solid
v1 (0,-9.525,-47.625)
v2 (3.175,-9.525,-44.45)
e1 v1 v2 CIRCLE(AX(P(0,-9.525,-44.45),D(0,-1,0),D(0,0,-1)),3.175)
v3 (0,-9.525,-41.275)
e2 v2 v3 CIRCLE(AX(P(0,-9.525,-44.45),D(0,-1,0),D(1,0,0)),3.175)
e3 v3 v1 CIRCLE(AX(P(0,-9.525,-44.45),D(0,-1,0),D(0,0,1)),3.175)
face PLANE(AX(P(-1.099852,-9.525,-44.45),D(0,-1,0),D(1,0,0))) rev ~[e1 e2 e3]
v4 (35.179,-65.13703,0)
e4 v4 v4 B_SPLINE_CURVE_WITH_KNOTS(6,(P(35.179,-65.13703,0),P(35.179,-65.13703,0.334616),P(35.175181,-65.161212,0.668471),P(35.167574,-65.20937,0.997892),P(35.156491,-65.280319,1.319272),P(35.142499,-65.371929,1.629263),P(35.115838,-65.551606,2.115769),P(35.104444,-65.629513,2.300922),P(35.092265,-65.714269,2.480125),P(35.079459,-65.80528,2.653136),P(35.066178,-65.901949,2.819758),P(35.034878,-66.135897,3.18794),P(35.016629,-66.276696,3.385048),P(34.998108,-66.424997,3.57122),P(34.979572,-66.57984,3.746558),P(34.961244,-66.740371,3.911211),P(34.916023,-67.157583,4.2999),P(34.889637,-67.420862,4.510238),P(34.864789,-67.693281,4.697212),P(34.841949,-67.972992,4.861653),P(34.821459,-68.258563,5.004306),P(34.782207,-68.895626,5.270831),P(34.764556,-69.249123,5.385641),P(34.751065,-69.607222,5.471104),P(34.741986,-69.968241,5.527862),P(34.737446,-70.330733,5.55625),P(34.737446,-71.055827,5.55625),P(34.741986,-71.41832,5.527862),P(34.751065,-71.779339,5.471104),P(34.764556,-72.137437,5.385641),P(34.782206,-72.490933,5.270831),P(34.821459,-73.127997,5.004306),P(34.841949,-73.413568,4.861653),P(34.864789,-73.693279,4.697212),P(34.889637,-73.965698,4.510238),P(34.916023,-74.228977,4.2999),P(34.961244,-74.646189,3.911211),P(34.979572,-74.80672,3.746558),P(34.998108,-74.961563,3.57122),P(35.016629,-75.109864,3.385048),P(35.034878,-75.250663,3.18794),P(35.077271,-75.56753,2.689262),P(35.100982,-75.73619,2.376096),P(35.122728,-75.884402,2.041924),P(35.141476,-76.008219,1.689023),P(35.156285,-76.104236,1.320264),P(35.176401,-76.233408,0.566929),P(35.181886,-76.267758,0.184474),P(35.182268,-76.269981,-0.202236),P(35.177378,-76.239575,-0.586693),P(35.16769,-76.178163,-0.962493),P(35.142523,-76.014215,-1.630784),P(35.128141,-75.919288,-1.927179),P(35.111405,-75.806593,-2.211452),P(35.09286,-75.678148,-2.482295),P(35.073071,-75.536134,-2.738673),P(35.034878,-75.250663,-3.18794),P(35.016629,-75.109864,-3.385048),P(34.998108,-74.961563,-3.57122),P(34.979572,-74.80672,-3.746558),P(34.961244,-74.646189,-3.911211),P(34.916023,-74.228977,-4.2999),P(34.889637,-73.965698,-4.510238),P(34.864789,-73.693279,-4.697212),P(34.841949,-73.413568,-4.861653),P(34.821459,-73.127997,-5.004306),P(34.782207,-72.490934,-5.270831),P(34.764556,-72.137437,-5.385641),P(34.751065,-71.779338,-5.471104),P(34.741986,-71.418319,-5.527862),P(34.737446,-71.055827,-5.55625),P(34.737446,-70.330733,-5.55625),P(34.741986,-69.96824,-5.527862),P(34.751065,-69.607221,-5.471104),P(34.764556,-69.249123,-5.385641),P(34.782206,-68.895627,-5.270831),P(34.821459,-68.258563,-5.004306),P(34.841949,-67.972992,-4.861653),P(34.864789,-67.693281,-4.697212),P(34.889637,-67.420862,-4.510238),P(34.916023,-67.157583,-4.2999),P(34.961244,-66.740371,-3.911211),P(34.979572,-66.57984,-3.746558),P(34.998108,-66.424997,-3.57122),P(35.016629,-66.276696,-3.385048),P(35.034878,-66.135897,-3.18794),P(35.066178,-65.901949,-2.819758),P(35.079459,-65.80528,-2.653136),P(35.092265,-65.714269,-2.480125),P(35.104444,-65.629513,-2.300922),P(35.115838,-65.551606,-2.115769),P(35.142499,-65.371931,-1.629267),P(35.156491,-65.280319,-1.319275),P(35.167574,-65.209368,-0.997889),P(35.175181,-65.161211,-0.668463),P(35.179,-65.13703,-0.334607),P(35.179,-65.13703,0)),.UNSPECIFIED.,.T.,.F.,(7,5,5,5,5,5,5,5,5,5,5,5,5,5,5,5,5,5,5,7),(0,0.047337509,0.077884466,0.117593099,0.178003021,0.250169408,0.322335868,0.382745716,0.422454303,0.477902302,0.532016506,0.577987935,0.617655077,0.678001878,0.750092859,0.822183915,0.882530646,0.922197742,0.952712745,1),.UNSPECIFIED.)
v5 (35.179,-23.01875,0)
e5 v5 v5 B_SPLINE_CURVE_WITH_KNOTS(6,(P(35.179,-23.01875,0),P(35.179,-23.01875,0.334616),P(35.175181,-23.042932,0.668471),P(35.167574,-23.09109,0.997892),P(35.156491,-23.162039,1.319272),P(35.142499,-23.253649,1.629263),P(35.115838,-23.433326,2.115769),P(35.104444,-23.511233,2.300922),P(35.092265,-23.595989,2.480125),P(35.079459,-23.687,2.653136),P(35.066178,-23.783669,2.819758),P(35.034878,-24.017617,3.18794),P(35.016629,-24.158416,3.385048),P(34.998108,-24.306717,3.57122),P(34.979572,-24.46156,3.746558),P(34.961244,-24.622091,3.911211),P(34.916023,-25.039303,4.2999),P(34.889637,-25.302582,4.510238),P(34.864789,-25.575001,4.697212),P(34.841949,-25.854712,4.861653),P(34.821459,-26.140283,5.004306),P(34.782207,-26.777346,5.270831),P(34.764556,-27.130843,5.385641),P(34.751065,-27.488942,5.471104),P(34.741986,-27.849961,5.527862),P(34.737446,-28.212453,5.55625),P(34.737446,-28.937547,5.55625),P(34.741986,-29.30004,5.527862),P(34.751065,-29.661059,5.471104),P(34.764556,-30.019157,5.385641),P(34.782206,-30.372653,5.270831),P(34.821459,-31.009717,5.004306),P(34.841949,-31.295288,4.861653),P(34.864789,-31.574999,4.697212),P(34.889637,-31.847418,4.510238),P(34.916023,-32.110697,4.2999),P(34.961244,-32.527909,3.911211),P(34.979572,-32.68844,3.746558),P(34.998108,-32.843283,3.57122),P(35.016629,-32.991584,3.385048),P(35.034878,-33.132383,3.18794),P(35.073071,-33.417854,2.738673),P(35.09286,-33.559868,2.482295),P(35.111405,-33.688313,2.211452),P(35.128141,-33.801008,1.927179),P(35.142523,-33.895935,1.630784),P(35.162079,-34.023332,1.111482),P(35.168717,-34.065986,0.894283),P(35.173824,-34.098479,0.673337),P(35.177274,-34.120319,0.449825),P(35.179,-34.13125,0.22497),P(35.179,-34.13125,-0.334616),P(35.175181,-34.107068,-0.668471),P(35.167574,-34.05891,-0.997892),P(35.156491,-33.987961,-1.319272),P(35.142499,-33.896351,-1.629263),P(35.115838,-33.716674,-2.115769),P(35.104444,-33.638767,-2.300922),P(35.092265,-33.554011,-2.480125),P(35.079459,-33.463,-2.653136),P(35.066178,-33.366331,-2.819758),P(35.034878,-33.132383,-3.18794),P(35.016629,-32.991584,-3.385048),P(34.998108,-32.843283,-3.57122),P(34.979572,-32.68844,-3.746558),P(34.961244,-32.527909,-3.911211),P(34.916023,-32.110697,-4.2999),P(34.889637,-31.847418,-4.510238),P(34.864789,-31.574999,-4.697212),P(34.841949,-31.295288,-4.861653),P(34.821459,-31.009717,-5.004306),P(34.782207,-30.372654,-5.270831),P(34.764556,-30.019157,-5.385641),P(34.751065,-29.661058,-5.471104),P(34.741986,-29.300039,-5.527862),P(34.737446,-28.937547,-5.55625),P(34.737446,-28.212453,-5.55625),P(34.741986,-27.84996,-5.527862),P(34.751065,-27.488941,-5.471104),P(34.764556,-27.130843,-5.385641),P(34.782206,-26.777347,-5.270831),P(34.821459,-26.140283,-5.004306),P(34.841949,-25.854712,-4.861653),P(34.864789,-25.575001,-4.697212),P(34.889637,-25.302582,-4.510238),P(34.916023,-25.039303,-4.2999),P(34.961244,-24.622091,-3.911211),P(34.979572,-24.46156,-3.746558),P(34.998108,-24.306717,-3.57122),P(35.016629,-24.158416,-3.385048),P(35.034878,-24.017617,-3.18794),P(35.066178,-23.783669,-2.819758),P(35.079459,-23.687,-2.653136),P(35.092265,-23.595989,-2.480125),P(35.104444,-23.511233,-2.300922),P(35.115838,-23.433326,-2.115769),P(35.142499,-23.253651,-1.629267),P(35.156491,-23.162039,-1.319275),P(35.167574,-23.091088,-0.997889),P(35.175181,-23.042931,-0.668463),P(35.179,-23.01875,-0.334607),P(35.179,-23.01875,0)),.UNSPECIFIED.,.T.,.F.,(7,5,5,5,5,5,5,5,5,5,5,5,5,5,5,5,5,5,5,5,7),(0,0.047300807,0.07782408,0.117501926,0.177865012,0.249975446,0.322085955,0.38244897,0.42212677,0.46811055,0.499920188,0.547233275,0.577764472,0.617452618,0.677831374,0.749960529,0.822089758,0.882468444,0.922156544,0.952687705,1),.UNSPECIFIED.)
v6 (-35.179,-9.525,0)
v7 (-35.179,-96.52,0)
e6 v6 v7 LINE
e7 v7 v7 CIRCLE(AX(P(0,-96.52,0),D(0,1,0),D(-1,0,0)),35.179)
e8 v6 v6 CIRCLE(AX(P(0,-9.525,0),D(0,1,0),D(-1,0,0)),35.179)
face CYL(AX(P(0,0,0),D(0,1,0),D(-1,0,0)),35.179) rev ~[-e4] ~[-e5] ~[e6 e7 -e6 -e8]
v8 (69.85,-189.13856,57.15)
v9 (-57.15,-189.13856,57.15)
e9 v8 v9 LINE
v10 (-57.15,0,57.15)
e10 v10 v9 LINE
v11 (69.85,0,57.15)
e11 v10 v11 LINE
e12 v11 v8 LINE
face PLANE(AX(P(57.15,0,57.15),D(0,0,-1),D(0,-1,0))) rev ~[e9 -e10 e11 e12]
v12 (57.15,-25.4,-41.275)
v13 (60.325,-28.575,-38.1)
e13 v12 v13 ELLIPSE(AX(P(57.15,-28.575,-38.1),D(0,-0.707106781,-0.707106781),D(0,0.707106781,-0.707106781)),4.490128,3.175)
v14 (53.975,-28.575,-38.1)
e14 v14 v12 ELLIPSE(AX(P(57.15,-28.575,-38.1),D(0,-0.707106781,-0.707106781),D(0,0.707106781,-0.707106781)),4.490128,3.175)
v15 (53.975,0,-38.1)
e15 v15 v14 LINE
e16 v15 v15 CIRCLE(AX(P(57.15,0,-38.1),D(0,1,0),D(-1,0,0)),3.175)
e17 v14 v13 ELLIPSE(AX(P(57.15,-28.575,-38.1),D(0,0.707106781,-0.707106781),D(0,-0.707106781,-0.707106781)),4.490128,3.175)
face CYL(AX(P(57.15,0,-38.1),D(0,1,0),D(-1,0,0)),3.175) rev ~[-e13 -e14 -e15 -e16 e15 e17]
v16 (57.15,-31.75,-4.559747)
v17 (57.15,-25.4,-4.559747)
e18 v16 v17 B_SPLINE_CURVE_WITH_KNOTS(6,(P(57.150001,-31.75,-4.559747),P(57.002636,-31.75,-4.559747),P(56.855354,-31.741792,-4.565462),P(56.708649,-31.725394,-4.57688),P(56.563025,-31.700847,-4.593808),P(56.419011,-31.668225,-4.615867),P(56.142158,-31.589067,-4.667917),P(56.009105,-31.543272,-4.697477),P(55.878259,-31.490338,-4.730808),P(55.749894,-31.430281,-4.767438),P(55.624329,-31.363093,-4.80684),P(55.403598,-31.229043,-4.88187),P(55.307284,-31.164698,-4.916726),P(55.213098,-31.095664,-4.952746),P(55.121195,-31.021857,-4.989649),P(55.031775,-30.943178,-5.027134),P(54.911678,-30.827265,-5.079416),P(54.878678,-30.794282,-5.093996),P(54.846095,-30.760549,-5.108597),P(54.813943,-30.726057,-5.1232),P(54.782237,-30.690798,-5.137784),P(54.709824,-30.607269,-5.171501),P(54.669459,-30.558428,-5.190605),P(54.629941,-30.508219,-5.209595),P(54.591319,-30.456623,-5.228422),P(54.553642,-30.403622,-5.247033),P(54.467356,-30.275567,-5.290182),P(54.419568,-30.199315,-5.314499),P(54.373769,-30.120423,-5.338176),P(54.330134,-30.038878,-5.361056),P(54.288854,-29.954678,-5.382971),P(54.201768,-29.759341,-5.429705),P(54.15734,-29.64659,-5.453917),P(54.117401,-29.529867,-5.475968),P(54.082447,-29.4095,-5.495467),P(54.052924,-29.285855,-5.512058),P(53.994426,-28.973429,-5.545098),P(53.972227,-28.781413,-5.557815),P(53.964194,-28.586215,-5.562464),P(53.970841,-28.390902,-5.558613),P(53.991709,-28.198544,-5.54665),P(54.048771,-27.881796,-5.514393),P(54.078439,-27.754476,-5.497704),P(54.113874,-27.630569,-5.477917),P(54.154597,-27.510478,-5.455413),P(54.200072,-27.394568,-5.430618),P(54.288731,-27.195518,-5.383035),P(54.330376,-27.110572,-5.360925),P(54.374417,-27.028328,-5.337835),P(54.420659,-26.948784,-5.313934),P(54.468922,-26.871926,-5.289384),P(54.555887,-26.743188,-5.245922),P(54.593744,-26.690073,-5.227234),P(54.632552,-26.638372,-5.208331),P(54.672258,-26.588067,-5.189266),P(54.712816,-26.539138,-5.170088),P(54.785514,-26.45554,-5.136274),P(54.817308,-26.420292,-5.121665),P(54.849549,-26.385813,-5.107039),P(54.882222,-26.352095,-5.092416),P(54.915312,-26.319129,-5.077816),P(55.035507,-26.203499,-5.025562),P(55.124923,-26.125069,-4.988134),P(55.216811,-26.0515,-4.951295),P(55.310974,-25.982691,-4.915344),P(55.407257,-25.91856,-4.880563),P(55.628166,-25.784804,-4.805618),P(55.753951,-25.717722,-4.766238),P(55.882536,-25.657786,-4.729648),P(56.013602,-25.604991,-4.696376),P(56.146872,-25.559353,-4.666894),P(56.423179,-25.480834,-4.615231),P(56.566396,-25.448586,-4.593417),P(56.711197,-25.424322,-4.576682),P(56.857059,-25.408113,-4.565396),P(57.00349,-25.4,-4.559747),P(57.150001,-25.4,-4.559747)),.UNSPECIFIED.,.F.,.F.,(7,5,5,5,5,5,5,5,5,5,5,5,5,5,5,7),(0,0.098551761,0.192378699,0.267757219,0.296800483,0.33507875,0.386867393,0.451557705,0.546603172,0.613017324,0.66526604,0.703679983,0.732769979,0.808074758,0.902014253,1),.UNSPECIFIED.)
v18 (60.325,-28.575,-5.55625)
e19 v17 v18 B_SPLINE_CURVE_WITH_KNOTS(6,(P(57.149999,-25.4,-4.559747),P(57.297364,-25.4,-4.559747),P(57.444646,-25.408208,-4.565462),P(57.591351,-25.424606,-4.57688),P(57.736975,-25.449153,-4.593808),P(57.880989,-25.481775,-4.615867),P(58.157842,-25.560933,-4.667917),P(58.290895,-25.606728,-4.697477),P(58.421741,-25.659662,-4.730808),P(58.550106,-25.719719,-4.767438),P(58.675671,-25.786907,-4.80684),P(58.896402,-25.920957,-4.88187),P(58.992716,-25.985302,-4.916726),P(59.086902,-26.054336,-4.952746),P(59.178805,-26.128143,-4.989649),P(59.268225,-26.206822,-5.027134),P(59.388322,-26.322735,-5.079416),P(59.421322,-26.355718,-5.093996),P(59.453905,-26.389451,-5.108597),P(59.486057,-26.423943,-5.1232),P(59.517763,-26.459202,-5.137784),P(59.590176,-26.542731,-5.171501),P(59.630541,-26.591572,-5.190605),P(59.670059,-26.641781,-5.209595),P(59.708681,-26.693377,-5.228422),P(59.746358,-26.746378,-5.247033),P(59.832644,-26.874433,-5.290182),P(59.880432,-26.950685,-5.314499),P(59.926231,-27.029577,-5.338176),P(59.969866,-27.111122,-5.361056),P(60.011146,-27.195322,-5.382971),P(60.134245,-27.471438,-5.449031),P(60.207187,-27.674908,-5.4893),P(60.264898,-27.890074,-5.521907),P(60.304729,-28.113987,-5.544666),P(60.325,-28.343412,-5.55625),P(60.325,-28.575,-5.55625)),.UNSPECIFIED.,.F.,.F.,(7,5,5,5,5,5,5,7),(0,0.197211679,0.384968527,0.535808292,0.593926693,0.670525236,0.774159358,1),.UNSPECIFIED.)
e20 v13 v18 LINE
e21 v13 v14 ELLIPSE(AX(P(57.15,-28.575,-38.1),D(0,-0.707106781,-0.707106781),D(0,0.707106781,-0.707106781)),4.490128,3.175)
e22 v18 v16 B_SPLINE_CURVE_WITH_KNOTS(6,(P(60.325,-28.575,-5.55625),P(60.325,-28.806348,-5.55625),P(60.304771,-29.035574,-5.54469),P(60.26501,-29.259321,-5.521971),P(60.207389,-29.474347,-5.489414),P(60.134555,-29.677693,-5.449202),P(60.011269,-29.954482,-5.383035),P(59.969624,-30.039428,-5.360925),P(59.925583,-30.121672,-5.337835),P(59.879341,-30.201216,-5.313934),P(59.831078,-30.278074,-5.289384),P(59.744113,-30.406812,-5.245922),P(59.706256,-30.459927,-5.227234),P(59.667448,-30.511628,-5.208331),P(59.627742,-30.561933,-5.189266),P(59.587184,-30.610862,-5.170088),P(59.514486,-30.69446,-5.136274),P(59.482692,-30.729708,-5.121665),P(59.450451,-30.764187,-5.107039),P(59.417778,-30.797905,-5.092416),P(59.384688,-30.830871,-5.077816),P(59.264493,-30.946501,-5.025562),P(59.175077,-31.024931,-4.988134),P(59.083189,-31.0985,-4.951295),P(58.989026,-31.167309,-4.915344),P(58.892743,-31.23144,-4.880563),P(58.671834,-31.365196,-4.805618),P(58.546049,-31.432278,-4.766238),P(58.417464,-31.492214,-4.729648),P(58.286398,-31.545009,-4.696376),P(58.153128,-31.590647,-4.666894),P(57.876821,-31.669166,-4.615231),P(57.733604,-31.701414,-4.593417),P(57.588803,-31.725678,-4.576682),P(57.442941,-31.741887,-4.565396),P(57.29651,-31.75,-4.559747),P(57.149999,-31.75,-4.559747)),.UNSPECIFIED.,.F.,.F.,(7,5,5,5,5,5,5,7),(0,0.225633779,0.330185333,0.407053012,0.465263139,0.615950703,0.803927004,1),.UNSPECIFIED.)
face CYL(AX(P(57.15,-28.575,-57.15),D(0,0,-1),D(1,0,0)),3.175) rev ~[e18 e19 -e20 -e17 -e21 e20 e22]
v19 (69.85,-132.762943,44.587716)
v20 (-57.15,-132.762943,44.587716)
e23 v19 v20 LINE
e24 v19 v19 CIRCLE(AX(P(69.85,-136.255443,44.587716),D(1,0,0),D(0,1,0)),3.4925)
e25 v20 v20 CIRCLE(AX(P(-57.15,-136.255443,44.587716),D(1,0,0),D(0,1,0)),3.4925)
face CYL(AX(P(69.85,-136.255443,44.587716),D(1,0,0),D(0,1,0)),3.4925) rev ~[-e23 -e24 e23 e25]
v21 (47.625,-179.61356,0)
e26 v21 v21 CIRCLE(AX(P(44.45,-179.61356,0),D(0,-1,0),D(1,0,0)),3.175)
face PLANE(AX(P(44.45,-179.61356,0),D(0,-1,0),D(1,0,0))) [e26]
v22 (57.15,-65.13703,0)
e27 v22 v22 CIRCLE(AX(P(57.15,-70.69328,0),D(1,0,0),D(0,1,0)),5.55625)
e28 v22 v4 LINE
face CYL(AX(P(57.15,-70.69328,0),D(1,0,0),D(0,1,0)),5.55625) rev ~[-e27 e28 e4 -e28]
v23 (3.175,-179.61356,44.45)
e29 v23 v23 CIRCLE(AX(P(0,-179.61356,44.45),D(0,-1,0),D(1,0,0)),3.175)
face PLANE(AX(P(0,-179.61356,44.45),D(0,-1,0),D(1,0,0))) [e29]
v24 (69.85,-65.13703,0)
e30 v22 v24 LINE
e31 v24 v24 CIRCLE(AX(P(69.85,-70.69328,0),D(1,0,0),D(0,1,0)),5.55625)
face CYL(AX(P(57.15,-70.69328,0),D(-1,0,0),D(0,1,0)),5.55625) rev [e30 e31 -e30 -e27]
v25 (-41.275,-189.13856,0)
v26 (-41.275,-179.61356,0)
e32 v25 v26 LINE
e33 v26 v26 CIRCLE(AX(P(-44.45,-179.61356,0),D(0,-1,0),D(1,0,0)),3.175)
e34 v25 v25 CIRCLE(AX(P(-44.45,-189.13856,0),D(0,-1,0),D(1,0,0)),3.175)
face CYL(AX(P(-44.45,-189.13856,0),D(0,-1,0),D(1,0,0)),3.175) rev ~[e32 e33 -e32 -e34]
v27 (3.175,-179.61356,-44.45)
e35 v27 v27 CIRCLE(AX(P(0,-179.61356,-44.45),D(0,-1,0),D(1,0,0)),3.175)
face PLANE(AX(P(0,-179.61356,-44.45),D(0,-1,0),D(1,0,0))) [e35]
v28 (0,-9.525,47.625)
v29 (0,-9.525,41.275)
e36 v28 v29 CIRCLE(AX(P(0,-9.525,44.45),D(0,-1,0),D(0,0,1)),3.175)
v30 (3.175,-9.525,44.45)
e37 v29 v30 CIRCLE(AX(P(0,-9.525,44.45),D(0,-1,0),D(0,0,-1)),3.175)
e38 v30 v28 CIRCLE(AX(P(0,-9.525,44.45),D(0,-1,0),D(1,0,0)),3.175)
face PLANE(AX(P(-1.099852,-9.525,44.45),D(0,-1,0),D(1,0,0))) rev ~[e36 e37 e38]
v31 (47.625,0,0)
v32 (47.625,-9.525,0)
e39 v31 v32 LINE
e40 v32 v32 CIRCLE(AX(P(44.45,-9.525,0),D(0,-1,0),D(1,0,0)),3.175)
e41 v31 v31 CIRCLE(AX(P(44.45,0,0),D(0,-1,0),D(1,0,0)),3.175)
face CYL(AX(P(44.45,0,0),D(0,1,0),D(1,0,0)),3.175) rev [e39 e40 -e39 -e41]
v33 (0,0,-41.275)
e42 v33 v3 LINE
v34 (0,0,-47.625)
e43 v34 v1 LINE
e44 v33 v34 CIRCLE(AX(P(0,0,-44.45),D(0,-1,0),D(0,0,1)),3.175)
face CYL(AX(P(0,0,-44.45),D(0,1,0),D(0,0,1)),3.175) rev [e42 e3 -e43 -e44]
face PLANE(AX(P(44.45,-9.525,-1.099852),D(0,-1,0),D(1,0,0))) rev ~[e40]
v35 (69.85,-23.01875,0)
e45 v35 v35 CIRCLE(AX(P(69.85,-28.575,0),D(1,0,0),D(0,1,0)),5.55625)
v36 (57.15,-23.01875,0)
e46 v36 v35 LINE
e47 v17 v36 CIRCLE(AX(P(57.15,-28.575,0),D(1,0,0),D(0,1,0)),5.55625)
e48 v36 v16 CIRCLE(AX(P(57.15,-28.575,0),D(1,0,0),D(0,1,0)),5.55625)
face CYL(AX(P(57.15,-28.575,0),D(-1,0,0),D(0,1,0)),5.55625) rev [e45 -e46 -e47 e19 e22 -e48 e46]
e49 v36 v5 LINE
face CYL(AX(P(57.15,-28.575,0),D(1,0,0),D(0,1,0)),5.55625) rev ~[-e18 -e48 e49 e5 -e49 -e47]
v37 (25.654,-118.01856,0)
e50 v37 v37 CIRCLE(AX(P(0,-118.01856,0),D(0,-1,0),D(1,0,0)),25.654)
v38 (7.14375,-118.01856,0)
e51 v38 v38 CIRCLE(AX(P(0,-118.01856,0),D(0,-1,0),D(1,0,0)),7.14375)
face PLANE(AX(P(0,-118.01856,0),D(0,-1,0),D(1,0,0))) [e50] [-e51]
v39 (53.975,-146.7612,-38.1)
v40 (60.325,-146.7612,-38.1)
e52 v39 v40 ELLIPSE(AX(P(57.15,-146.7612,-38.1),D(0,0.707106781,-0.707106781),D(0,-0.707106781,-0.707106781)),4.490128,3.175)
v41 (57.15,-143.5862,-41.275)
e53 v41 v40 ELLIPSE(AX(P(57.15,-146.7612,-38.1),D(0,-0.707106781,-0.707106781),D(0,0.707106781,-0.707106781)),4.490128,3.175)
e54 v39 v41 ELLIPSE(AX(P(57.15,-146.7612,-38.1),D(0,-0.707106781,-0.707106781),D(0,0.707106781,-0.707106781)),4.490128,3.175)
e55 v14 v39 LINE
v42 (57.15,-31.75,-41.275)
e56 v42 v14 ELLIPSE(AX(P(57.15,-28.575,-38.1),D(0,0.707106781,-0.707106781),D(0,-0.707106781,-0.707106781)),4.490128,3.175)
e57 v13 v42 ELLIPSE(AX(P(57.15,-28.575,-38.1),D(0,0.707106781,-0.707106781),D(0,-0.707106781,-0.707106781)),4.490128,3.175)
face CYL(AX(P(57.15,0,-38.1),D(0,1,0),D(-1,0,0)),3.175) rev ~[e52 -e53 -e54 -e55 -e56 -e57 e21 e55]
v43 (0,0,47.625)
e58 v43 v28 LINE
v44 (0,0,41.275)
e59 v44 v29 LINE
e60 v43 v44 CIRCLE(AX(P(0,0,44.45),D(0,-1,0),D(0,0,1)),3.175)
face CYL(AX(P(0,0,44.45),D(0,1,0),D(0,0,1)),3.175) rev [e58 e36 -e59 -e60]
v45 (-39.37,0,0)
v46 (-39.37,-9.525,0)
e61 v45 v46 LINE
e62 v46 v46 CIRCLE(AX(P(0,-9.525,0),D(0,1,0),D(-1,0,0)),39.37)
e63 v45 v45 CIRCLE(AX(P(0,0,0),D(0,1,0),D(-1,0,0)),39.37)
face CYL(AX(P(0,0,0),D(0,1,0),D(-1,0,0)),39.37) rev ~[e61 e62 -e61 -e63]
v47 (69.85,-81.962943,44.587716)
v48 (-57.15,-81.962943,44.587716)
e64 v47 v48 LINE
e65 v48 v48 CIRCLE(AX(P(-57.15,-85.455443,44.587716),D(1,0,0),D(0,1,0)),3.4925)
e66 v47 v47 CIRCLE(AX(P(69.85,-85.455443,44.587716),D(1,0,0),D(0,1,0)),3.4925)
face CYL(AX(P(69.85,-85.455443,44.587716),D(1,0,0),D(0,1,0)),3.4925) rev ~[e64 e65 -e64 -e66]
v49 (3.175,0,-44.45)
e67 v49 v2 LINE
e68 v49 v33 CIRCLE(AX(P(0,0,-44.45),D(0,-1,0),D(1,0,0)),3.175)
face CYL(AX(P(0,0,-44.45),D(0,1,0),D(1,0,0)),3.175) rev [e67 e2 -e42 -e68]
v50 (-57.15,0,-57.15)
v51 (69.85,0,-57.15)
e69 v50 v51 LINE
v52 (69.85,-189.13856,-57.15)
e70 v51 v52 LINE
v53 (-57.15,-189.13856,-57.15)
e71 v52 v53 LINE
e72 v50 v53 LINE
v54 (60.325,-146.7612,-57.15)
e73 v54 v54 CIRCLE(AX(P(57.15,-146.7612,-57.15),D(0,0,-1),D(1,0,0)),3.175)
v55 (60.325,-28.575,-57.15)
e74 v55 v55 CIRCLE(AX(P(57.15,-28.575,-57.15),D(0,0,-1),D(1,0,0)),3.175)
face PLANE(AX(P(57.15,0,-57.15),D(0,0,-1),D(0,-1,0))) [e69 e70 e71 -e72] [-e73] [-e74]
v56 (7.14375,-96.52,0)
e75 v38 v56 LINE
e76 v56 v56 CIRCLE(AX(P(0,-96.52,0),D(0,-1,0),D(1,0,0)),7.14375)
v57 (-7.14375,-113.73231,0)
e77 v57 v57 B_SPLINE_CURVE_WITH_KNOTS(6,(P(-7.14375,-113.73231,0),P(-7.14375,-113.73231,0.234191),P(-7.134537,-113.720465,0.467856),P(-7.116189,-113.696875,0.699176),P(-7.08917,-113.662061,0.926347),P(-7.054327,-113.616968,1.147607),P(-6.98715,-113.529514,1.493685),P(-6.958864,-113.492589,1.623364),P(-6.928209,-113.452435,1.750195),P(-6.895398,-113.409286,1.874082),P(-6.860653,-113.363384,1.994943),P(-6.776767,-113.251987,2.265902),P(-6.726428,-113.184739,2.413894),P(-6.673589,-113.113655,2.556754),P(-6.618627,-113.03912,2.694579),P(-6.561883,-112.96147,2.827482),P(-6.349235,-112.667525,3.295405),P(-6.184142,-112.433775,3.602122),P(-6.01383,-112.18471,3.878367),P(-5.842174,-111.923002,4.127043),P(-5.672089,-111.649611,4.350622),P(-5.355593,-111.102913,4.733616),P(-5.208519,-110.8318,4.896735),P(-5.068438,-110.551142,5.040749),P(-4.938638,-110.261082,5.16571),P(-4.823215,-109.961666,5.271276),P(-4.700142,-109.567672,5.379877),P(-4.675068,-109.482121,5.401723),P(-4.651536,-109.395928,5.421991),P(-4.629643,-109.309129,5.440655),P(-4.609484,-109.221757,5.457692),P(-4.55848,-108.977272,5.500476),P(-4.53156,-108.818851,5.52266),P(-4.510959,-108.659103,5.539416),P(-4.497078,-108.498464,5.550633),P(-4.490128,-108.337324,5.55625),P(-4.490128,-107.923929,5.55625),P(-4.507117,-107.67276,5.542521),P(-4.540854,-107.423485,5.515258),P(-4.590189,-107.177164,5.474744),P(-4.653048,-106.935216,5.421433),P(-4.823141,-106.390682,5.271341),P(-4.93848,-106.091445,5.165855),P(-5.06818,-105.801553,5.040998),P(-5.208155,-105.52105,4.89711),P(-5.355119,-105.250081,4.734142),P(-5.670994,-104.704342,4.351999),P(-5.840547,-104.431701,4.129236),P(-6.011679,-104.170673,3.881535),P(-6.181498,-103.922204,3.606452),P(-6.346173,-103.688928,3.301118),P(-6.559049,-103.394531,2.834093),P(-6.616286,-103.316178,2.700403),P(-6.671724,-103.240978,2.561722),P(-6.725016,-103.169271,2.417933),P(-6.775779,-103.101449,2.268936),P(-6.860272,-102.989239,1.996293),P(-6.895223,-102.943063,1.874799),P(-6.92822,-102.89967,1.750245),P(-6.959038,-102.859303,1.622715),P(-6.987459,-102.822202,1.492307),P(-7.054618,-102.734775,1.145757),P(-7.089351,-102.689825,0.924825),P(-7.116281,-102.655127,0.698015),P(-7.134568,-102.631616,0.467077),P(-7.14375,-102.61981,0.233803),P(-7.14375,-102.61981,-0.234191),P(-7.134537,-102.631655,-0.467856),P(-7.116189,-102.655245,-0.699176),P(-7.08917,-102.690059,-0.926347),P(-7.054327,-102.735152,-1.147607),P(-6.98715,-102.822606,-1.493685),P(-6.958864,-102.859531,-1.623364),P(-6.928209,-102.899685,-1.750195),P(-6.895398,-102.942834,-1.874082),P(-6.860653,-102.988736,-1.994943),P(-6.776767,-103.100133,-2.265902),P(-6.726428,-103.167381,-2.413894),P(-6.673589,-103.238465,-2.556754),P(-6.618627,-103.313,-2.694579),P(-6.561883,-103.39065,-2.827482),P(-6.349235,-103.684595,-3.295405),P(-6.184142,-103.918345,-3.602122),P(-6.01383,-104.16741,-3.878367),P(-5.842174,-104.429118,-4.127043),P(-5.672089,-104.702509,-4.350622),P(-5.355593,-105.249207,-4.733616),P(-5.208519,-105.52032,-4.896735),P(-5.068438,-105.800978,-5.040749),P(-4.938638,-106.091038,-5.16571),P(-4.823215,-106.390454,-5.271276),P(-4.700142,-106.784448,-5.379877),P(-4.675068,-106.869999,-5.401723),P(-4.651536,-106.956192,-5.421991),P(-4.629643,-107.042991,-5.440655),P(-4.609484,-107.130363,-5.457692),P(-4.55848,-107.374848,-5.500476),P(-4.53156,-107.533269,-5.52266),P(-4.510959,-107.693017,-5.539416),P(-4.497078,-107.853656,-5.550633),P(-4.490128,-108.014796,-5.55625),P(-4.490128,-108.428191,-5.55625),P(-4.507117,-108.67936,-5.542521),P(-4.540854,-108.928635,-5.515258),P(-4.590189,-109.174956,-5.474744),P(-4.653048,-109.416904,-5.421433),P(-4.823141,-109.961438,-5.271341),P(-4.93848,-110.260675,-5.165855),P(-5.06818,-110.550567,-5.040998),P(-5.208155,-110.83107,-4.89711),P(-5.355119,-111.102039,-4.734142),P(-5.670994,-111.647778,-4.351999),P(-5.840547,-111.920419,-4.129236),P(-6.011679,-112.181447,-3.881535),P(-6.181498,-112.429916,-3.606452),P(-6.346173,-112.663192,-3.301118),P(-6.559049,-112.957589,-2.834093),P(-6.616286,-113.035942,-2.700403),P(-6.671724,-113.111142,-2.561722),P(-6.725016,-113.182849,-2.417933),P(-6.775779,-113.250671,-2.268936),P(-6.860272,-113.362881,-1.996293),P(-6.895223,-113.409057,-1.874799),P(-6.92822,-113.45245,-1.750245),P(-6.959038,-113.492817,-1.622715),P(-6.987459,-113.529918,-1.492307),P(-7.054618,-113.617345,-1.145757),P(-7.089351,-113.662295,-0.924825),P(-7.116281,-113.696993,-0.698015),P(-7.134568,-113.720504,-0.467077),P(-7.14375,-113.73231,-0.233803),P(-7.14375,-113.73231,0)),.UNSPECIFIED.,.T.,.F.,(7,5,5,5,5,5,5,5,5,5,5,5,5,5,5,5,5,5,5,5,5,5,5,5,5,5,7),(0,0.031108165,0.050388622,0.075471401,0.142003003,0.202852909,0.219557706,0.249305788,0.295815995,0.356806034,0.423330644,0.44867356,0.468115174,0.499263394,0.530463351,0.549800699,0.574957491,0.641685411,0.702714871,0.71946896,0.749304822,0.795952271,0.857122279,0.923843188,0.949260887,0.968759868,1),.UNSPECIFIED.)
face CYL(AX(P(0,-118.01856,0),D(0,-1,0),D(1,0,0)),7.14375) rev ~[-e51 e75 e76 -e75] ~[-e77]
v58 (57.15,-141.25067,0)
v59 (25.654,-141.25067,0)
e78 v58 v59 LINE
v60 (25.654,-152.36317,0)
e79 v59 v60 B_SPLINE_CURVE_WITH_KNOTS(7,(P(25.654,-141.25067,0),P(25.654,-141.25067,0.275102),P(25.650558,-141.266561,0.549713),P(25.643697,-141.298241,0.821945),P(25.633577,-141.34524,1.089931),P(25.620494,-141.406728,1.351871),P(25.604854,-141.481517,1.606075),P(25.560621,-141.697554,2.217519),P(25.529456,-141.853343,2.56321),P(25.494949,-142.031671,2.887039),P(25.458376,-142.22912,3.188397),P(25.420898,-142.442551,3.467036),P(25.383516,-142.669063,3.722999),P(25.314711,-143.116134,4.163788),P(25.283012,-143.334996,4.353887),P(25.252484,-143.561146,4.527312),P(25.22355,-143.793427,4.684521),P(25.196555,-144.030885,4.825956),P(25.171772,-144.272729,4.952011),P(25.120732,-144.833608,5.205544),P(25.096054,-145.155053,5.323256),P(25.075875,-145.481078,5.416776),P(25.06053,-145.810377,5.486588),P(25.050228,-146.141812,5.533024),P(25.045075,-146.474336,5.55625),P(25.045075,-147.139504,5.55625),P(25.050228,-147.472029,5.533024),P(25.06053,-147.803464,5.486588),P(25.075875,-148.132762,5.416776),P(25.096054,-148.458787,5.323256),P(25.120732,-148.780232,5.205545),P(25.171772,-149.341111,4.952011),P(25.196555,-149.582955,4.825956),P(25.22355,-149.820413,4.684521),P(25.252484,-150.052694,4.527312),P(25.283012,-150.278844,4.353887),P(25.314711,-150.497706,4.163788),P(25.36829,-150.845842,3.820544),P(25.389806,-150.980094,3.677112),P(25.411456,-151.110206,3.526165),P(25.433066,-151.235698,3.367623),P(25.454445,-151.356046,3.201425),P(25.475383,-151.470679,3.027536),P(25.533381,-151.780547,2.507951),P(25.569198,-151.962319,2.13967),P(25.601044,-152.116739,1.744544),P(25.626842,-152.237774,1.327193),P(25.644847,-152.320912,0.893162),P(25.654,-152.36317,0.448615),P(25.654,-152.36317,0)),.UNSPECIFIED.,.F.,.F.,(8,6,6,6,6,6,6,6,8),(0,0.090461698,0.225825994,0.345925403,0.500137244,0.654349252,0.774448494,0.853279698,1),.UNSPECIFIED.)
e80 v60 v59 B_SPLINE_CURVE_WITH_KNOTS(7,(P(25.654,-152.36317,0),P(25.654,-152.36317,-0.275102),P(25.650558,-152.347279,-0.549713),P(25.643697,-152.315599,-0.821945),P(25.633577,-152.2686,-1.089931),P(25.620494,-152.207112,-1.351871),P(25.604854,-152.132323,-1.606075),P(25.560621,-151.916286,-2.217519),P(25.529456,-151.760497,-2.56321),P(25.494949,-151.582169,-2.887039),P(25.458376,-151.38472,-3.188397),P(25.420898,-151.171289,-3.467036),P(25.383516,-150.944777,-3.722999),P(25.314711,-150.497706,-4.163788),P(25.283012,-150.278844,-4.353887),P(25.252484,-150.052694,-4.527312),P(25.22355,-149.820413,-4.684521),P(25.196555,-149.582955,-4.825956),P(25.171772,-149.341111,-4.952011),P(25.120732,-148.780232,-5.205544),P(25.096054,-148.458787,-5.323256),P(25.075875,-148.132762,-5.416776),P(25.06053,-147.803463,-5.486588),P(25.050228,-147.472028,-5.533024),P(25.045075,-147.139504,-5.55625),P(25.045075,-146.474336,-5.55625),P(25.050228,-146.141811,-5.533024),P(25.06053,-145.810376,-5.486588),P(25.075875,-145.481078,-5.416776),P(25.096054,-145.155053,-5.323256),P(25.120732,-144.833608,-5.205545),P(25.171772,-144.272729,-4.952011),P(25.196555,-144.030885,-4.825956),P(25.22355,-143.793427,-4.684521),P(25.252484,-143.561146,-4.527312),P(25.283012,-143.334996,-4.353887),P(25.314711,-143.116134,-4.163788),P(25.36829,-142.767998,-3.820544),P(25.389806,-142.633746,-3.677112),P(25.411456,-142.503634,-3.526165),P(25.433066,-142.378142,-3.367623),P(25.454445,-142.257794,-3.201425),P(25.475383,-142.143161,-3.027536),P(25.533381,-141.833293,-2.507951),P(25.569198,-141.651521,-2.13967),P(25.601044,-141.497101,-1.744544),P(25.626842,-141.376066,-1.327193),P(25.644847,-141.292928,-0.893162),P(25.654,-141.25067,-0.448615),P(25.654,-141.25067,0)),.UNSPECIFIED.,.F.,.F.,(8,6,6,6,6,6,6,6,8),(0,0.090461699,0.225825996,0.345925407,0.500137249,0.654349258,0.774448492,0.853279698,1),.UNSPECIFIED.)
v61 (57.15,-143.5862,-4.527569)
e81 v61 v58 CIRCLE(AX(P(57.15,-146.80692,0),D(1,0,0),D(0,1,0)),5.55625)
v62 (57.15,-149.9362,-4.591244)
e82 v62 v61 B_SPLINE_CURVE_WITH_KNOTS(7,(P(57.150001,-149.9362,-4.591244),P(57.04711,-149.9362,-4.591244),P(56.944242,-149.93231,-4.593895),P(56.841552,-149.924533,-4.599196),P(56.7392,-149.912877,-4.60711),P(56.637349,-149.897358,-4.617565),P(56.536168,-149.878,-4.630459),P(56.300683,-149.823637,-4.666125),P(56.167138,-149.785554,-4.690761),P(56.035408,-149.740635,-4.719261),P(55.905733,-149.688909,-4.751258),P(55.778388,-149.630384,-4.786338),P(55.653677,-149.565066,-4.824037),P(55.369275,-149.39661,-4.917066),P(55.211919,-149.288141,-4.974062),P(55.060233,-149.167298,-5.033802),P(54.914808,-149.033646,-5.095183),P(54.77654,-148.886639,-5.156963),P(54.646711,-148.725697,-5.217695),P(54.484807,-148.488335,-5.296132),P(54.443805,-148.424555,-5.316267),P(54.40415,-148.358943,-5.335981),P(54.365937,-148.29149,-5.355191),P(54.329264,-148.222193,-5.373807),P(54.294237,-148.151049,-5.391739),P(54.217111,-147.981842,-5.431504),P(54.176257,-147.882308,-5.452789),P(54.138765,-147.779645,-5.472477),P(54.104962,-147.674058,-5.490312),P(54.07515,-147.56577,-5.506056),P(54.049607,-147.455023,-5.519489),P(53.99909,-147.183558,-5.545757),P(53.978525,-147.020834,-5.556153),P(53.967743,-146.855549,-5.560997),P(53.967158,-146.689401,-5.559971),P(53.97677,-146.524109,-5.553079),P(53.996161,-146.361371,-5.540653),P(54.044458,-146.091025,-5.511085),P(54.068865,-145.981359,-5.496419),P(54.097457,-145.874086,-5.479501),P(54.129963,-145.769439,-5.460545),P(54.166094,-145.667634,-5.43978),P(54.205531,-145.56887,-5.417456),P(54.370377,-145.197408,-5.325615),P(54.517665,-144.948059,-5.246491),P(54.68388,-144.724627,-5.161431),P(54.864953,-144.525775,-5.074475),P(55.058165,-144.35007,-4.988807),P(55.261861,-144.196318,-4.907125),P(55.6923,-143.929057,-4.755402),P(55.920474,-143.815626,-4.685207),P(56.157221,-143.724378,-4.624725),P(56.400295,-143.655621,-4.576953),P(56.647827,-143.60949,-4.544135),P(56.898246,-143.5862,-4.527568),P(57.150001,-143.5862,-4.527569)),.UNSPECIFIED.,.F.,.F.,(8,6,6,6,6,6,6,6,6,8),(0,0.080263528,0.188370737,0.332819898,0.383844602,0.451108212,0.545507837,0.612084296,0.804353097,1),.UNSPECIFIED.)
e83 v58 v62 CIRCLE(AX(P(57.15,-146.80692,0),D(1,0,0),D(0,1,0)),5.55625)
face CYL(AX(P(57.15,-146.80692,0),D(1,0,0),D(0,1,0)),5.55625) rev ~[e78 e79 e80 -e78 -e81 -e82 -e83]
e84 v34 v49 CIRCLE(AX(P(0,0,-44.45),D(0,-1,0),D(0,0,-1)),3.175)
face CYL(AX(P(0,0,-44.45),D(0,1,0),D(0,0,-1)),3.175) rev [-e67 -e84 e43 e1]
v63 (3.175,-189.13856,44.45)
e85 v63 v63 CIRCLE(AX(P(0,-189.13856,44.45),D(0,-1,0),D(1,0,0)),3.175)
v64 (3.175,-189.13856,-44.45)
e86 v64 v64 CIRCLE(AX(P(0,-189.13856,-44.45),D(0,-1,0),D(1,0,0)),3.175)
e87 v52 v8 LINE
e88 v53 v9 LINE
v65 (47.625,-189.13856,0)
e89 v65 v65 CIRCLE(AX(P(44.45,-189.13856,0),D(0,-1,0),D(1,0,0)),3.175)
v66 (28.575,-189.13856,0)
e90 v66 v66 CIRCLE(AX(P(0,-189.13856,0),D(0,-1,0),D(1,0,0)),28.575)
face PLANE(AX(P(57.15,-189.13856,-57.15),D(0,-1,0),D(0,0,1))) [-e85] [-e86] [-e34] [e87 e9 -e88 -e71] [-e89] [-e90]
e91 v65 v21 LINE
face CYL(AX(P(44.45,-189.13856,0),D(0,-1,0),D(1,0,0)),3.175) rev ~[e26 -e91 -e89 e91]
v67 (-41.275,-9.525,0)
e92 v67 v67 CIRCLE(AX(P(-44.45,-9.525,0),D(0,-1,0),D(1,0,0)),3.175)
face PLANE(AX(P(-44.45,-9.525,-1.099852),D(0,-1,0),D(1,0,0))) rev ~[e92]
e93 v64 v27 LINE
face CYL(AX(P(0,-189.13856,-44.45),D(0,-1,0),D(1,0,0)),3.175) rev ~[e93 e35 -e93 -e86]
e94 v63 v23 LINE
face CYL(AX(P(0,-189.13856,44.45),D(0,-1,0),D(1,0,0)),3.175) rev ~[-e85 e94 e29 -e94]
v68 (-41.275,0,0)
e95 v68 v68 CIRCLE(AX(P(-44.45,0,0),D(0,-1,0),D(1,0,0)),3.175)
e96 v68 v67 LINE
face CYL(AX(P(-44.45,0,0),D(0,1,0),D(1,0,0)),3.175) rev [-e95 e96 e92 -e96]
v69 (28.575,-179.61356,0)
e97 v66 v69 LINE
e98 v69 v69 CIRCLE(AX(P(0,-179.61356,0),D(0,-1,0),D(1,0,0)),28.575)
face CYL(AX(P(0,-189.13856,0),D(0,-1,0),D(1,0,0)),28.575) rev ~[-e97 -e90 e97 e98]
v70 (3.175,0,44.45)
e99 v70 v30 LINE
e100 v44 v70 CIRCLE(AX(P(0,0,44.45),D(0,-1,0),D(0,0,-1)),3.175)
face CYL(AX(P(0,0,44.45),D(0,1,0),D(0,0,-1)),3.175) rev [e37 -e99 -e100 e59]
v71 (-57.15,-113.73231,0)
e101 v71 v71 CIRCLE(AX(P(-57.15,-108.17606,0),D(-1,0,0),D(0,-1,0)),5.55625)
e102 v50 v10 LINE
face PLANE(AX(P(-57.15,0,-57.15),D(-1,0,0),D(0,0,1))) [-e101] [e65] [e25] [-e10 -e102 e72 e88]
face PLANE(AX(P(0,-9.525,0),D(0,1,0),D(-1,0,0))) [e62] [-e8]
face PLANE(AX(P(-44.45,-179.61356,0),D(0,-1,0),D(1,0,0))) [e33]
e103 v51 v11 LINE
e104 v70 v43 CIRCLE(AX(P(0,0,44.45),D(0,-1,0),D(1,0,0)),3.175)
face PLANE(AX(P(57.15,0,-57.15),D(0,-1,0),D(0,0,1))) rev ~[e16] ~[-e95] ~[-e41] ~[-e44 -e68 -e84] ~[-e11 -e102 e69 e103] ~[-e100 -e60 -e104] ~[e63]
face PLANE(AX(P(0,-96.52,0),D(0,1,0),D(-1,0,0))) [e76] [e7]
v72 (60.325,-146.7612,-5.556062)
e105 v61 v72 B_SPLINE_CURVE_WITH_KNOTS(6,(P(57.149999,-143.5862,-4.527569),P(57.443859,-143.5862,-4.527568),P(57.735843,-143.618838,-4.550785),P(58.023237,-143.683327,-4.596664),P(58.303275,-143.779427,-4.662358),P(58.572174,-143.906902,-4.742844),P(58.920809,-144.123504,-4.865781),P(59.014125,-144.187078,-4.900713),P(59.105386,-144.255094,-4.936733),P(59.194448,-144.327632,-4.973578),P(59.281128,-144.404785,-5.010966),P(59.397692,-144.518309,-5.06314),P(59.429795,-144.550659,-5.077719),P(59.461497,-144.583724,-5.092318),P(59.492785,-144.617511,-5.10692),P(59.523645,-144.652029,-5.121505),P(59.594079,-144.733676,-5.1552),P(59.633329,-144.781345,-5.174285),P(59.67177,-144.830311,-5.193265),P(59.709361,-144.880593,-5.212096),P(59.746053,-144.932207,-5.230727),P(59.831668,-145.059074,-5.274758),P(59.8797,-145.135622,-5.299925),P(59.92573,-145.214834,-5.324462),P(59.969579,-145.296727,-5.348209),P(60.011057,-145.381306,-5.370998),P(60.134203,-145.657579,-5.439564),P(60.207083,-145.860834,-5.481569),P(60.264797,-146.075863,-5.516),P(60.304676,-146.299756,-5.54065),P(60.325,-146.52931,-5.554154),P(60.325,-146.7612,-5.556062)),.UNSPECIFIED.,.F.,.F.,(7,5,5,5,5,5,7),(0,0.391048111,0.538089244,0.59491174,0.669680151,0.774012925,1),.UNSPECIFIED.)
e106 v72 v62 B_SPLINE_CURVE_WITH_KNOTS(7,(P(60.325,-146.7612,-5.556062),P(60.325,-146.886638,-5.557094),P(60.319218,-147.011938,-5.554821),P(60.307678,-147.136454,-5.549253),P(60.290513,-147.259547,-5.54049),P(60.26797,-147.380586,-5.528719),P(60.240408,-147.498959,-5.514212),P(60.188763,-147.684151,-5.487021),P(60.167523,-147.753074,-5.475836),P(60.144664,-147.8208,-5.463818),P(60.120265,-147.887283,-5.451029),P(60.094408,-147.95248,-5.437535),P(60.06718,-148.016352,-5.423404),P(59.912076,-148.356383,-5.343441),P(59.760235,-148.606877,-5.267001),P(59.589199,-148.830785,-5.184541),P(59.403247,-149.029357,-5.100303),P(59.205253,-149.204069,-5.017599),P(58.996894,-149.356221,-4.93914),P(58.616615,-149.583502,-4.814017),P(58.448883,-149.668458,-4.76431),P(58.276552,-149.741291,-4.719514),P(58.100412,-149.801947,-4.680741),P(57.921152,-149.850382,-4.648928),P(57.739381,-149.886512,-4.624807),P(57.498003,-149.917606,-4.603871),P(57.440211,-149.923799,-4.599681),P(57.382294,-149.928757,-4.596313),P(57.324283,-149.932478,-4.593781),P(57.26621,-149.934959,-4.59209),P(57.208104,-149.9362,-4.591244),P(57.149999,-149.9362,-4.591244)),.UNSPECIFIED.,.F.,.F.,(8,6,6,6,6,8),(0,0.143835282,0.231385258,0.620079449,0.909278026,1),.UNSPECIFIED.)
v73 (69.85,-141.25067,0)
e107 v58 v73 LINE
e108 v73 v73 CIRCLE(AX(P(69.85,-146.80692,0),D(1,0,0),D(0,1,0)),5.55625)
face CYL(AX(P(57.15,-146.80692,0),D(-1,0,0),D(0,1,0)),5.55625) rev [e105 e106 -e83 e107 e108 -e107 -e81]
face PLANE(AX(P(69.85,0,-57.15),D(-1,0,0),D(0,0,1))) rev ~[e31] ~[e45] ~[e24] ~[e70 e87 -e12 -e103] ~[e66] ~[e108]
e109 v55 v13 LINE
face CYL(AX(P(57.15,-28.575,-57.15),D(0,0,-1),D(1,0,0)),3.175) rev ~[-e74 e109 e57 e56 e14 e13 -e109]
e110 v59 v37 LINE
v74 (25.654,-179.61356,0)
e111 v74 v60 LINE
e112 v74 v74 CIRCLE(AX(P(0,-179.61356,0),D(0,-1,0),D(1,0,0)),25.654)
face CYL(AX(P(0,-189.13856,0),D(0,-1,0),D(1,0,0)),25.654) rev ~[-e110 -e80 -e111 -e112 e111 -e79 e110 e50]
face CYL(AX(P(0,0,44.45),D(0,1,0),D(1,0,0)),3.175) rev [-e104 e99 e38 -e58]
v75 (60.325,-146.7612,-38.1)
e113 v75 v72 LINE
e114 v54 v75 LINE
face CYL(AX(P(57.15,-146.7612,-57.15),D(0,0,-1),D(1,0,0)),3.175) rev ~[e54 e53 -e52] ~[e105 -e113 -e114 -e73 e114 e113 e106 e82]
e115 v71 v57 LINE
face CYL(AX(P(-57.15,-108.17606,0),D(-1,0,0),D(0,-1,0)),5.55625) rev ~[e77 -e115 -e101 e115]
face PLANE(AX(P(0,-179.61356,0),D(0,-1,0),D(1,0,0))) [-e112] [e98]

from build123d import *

# Parameters (mm, degrees)
F0_W      = 114.3
F0_H      = 114.3
F1_DEPTH  = 189.13856
F2_R      = 35.179
F3_DEPTH  = 96.52
F4_R      = 39.37
F5_DEPTH  = 9.525
F6_R      = 25.654
F7_DEPTH  = 71.12
F8_R      = 28.575
F9_DEPTH  = 9.525
F10_R     = 7.14375
F11_DEPTH = 118.01956
F12_R     = 5.55625
F13_DEPTH = 32.1059246971
F14_R     = 5.55625
F15_DEPTH = 52.6608720395
F16_DEPTH = 12.7
F18_R     = 3.175
F20_DEPTH = 52.6234315755
F19_R     = 3.175
F21_DEPTH = 146.7612
F24_DEPTH = 9.525
F25_R     = 3.175
F26_DEPTH = 9.525
F27_R     = 3.4925
F28_DEPTH = 127.0010001


with BuildPart() as f1:
    # F0 (on Front) → F1 (new body)
    with BuildSketch(Plane.XZ):
        Rectangle(F0_W, F0_H)
    extrude(amount=F1_DEPTH)

    # F2 (on face) → F3 (cut)
    with BuildSketch(Plane(origin=(0, 0, 0), x_dir=(-1, 0, 0), z_dir=(0, 1, 0))):
        Circle(F2_R)
    extrude(amount=-F3_DEPTH, mode=Mode.SUBTRACT)

    # F4 (on face) → F5 (cut)
    with BuildSketch(Plane(origin=(0, 0, 0), x_dir=(-1, 0, 0), z_dir=(0, 1, 0))):
        Circle(F4_R)
    extrude(amount=-F5_DEPTH, mode=Mode.SUBTRACT)

    # F6 (on face) → F7 (cut)
    with BuildSketch(Plane.XZ.offset(189.13856)):
        Circle(F6_R)
    extrude(amount=-F7_DEPTH, mode=Mode.SUBTRACT)

    # F8 (on face) → F9 (cut)
    with BuildSketch(Plane.XZ.offset(189.13856)):
        Circle(F8_R)
    extrude(amount=-F9_DEPTH, mode=Mode.SUBTRACT)

    # F10 (on face) → F11 (cut, through all)
    with BuildSketch(Plane.XZ.offset(118.01856)):
        Circle(F10_R)
    extrude(amount=-F11_DEPTH, mode=Mode.SUBTRACT)

    # F12 (on face) → F13 (cut, through all)
    with BuildSketch(Plane.YZ.offset(57.15)):
        with Locations((-146.80692, 0)):
            Circle(F12_R)
        with Locations((-70.69328, 0)):
            Circle(F12_R)
        with Locations((-28.575, 0)):
            Circle(F12_R)
    extrude(amount=-F13_DEPTH, mode=Mode.SUBTRACT)

    # F14 (on face) → F15 (cut, through all)
    with BuildSketch(Plane(origin=(-57.15, 0, 0), x_dir=(0, -1, 0), z_dir=(-1, 0, 0))):
        with Locations((108.17606, 0)):
            Circle(F14_R)
    extrude(amount=-F15_DEPTH, mode=Mode.SUBTRACT)

    # F16 (add): a face of the model
    f16_faces = [f1.faces().sort_by_distance(p)[0] for p in [
        (57.15, -94.7404141206, 0),
    ]]
    extrude(f16_faces, amount=F16_DEPTH)

    # F18 (on face) → F20 (cut, through all)
    with BuildSketch(Plane(origin=(0, 0, -57.15), x_dir=(1, 0, 0), z_dir=(0, 0, -1))):
        with Locations((57.15, 146.7612)):
            Circle(F18_R)
        with Locations((57.15, 28.575)):
            Circle(F18_R)
    extrude(amount=-F20_DEPTH, mode=Mode.SUBTRACT)

    # F19 (on face) → F21 (cut)
    with BuildSketch(Plane(origin=(0, 0, 0), x_dir=(-1, 0, 0), z_dir=(0, 1, 0))):
        with Locations((-57.15, -38.1)):
            Circle(F19_R)
    extrude(amount=-F21_DEPTH, mode=Mode.SUBTRACT)

    # F23 (on face) → F24 (cut)
    with BuildSketch(Plane.XZ):
        with BuildLine():
            ThreePointArc((-47.625, 0), (-44.45, -3.175), (-41.275, 0))
            Line((-41.275, 0), (-47.625, 0))
        make_face()
        with BuildLine():
            Line((-47.625, 0), (-41.275, 0))
            ThreePointArc((-41.275, 0), (-44.45, 3.175), (-47.625, 0))
        make_face()
        with BuildLine():
            ThreePointArc((41.275, 0), (44.45, -3.175), (47.625, 0))
            Line((47.625, 0), (41.275, 0))
        make_face()
        with BuildLine():
            Line((41.275, 0), (47.625, 0))
            ThreePointArc((47.625, 0), (44.45, 3.175), (41.275, 0))
        make_face()
        with BuildLine():
            ThreePointArc((0, -41.275), (-3.175, -44.45), (0, -47.625))
            Line((0, -47.625), (0, -41.275))
        make_face()
        with BuildLine():
            Line((0, -41.275), (0, -47.625))
            ThreePointArc((0, -47.625), (2.2450640303, -46.6950640303), (3.175, -44.45))
            ThreePointArc((3.175, -44.45), (2.2450640303, -42.2049359697), (0, -41.275))
        make_face()
        with BuildLine():
            ThreePointArc((0, 47.625), (-3.175, 44.45), (0, 41.275))
            Line((0, 41.275), (0, 47.625))
        make_face()
        with BuildLine():
            Line((0, 47.625), (0, 41.275))
            ThreePointArc((0, 41.275), (2.2450640303, 42.2049359697), (3.175, 44.45))
            ThreePointArc((3.175, 44.45), (2.2450640303, 46.6950640303), (0, 47.625))
        make_face()
    extrude(amount=F24_DEPTH, mode=Mode.SUBTRACT)

    # F25 (on face) → F26 (cut)
    with BuildSketch(Plane.XZ.offset(189.13856)):
        with Locations((-44.45, 0)):
            Circle(F25_R)
        with Locations((0, 44.45)):
            Circle(F25_R)
        with Locations((44.45, 0)):
            Circle(F25_R)
        with Locations((0, -44.45)):
            Circle(F25_R)
    extrude(amount=-F26_DEPTH, mode=Mode.SUBTRACT)

    # F27 (on face) → F28 (cut, through all)
    with BuildSketch(Plane.YZ.offset(69.85)):
        with Locations((-136.2554430962, 44.5877164602)):
            Circle(F27_R)
        with Locations((-85.4554430962, 44.5877164602)):
            Circle(F27_R)
    extrude(amount=-F28_DEPTH, mode=Mode.SUBTRACT)


solid = f1.part
